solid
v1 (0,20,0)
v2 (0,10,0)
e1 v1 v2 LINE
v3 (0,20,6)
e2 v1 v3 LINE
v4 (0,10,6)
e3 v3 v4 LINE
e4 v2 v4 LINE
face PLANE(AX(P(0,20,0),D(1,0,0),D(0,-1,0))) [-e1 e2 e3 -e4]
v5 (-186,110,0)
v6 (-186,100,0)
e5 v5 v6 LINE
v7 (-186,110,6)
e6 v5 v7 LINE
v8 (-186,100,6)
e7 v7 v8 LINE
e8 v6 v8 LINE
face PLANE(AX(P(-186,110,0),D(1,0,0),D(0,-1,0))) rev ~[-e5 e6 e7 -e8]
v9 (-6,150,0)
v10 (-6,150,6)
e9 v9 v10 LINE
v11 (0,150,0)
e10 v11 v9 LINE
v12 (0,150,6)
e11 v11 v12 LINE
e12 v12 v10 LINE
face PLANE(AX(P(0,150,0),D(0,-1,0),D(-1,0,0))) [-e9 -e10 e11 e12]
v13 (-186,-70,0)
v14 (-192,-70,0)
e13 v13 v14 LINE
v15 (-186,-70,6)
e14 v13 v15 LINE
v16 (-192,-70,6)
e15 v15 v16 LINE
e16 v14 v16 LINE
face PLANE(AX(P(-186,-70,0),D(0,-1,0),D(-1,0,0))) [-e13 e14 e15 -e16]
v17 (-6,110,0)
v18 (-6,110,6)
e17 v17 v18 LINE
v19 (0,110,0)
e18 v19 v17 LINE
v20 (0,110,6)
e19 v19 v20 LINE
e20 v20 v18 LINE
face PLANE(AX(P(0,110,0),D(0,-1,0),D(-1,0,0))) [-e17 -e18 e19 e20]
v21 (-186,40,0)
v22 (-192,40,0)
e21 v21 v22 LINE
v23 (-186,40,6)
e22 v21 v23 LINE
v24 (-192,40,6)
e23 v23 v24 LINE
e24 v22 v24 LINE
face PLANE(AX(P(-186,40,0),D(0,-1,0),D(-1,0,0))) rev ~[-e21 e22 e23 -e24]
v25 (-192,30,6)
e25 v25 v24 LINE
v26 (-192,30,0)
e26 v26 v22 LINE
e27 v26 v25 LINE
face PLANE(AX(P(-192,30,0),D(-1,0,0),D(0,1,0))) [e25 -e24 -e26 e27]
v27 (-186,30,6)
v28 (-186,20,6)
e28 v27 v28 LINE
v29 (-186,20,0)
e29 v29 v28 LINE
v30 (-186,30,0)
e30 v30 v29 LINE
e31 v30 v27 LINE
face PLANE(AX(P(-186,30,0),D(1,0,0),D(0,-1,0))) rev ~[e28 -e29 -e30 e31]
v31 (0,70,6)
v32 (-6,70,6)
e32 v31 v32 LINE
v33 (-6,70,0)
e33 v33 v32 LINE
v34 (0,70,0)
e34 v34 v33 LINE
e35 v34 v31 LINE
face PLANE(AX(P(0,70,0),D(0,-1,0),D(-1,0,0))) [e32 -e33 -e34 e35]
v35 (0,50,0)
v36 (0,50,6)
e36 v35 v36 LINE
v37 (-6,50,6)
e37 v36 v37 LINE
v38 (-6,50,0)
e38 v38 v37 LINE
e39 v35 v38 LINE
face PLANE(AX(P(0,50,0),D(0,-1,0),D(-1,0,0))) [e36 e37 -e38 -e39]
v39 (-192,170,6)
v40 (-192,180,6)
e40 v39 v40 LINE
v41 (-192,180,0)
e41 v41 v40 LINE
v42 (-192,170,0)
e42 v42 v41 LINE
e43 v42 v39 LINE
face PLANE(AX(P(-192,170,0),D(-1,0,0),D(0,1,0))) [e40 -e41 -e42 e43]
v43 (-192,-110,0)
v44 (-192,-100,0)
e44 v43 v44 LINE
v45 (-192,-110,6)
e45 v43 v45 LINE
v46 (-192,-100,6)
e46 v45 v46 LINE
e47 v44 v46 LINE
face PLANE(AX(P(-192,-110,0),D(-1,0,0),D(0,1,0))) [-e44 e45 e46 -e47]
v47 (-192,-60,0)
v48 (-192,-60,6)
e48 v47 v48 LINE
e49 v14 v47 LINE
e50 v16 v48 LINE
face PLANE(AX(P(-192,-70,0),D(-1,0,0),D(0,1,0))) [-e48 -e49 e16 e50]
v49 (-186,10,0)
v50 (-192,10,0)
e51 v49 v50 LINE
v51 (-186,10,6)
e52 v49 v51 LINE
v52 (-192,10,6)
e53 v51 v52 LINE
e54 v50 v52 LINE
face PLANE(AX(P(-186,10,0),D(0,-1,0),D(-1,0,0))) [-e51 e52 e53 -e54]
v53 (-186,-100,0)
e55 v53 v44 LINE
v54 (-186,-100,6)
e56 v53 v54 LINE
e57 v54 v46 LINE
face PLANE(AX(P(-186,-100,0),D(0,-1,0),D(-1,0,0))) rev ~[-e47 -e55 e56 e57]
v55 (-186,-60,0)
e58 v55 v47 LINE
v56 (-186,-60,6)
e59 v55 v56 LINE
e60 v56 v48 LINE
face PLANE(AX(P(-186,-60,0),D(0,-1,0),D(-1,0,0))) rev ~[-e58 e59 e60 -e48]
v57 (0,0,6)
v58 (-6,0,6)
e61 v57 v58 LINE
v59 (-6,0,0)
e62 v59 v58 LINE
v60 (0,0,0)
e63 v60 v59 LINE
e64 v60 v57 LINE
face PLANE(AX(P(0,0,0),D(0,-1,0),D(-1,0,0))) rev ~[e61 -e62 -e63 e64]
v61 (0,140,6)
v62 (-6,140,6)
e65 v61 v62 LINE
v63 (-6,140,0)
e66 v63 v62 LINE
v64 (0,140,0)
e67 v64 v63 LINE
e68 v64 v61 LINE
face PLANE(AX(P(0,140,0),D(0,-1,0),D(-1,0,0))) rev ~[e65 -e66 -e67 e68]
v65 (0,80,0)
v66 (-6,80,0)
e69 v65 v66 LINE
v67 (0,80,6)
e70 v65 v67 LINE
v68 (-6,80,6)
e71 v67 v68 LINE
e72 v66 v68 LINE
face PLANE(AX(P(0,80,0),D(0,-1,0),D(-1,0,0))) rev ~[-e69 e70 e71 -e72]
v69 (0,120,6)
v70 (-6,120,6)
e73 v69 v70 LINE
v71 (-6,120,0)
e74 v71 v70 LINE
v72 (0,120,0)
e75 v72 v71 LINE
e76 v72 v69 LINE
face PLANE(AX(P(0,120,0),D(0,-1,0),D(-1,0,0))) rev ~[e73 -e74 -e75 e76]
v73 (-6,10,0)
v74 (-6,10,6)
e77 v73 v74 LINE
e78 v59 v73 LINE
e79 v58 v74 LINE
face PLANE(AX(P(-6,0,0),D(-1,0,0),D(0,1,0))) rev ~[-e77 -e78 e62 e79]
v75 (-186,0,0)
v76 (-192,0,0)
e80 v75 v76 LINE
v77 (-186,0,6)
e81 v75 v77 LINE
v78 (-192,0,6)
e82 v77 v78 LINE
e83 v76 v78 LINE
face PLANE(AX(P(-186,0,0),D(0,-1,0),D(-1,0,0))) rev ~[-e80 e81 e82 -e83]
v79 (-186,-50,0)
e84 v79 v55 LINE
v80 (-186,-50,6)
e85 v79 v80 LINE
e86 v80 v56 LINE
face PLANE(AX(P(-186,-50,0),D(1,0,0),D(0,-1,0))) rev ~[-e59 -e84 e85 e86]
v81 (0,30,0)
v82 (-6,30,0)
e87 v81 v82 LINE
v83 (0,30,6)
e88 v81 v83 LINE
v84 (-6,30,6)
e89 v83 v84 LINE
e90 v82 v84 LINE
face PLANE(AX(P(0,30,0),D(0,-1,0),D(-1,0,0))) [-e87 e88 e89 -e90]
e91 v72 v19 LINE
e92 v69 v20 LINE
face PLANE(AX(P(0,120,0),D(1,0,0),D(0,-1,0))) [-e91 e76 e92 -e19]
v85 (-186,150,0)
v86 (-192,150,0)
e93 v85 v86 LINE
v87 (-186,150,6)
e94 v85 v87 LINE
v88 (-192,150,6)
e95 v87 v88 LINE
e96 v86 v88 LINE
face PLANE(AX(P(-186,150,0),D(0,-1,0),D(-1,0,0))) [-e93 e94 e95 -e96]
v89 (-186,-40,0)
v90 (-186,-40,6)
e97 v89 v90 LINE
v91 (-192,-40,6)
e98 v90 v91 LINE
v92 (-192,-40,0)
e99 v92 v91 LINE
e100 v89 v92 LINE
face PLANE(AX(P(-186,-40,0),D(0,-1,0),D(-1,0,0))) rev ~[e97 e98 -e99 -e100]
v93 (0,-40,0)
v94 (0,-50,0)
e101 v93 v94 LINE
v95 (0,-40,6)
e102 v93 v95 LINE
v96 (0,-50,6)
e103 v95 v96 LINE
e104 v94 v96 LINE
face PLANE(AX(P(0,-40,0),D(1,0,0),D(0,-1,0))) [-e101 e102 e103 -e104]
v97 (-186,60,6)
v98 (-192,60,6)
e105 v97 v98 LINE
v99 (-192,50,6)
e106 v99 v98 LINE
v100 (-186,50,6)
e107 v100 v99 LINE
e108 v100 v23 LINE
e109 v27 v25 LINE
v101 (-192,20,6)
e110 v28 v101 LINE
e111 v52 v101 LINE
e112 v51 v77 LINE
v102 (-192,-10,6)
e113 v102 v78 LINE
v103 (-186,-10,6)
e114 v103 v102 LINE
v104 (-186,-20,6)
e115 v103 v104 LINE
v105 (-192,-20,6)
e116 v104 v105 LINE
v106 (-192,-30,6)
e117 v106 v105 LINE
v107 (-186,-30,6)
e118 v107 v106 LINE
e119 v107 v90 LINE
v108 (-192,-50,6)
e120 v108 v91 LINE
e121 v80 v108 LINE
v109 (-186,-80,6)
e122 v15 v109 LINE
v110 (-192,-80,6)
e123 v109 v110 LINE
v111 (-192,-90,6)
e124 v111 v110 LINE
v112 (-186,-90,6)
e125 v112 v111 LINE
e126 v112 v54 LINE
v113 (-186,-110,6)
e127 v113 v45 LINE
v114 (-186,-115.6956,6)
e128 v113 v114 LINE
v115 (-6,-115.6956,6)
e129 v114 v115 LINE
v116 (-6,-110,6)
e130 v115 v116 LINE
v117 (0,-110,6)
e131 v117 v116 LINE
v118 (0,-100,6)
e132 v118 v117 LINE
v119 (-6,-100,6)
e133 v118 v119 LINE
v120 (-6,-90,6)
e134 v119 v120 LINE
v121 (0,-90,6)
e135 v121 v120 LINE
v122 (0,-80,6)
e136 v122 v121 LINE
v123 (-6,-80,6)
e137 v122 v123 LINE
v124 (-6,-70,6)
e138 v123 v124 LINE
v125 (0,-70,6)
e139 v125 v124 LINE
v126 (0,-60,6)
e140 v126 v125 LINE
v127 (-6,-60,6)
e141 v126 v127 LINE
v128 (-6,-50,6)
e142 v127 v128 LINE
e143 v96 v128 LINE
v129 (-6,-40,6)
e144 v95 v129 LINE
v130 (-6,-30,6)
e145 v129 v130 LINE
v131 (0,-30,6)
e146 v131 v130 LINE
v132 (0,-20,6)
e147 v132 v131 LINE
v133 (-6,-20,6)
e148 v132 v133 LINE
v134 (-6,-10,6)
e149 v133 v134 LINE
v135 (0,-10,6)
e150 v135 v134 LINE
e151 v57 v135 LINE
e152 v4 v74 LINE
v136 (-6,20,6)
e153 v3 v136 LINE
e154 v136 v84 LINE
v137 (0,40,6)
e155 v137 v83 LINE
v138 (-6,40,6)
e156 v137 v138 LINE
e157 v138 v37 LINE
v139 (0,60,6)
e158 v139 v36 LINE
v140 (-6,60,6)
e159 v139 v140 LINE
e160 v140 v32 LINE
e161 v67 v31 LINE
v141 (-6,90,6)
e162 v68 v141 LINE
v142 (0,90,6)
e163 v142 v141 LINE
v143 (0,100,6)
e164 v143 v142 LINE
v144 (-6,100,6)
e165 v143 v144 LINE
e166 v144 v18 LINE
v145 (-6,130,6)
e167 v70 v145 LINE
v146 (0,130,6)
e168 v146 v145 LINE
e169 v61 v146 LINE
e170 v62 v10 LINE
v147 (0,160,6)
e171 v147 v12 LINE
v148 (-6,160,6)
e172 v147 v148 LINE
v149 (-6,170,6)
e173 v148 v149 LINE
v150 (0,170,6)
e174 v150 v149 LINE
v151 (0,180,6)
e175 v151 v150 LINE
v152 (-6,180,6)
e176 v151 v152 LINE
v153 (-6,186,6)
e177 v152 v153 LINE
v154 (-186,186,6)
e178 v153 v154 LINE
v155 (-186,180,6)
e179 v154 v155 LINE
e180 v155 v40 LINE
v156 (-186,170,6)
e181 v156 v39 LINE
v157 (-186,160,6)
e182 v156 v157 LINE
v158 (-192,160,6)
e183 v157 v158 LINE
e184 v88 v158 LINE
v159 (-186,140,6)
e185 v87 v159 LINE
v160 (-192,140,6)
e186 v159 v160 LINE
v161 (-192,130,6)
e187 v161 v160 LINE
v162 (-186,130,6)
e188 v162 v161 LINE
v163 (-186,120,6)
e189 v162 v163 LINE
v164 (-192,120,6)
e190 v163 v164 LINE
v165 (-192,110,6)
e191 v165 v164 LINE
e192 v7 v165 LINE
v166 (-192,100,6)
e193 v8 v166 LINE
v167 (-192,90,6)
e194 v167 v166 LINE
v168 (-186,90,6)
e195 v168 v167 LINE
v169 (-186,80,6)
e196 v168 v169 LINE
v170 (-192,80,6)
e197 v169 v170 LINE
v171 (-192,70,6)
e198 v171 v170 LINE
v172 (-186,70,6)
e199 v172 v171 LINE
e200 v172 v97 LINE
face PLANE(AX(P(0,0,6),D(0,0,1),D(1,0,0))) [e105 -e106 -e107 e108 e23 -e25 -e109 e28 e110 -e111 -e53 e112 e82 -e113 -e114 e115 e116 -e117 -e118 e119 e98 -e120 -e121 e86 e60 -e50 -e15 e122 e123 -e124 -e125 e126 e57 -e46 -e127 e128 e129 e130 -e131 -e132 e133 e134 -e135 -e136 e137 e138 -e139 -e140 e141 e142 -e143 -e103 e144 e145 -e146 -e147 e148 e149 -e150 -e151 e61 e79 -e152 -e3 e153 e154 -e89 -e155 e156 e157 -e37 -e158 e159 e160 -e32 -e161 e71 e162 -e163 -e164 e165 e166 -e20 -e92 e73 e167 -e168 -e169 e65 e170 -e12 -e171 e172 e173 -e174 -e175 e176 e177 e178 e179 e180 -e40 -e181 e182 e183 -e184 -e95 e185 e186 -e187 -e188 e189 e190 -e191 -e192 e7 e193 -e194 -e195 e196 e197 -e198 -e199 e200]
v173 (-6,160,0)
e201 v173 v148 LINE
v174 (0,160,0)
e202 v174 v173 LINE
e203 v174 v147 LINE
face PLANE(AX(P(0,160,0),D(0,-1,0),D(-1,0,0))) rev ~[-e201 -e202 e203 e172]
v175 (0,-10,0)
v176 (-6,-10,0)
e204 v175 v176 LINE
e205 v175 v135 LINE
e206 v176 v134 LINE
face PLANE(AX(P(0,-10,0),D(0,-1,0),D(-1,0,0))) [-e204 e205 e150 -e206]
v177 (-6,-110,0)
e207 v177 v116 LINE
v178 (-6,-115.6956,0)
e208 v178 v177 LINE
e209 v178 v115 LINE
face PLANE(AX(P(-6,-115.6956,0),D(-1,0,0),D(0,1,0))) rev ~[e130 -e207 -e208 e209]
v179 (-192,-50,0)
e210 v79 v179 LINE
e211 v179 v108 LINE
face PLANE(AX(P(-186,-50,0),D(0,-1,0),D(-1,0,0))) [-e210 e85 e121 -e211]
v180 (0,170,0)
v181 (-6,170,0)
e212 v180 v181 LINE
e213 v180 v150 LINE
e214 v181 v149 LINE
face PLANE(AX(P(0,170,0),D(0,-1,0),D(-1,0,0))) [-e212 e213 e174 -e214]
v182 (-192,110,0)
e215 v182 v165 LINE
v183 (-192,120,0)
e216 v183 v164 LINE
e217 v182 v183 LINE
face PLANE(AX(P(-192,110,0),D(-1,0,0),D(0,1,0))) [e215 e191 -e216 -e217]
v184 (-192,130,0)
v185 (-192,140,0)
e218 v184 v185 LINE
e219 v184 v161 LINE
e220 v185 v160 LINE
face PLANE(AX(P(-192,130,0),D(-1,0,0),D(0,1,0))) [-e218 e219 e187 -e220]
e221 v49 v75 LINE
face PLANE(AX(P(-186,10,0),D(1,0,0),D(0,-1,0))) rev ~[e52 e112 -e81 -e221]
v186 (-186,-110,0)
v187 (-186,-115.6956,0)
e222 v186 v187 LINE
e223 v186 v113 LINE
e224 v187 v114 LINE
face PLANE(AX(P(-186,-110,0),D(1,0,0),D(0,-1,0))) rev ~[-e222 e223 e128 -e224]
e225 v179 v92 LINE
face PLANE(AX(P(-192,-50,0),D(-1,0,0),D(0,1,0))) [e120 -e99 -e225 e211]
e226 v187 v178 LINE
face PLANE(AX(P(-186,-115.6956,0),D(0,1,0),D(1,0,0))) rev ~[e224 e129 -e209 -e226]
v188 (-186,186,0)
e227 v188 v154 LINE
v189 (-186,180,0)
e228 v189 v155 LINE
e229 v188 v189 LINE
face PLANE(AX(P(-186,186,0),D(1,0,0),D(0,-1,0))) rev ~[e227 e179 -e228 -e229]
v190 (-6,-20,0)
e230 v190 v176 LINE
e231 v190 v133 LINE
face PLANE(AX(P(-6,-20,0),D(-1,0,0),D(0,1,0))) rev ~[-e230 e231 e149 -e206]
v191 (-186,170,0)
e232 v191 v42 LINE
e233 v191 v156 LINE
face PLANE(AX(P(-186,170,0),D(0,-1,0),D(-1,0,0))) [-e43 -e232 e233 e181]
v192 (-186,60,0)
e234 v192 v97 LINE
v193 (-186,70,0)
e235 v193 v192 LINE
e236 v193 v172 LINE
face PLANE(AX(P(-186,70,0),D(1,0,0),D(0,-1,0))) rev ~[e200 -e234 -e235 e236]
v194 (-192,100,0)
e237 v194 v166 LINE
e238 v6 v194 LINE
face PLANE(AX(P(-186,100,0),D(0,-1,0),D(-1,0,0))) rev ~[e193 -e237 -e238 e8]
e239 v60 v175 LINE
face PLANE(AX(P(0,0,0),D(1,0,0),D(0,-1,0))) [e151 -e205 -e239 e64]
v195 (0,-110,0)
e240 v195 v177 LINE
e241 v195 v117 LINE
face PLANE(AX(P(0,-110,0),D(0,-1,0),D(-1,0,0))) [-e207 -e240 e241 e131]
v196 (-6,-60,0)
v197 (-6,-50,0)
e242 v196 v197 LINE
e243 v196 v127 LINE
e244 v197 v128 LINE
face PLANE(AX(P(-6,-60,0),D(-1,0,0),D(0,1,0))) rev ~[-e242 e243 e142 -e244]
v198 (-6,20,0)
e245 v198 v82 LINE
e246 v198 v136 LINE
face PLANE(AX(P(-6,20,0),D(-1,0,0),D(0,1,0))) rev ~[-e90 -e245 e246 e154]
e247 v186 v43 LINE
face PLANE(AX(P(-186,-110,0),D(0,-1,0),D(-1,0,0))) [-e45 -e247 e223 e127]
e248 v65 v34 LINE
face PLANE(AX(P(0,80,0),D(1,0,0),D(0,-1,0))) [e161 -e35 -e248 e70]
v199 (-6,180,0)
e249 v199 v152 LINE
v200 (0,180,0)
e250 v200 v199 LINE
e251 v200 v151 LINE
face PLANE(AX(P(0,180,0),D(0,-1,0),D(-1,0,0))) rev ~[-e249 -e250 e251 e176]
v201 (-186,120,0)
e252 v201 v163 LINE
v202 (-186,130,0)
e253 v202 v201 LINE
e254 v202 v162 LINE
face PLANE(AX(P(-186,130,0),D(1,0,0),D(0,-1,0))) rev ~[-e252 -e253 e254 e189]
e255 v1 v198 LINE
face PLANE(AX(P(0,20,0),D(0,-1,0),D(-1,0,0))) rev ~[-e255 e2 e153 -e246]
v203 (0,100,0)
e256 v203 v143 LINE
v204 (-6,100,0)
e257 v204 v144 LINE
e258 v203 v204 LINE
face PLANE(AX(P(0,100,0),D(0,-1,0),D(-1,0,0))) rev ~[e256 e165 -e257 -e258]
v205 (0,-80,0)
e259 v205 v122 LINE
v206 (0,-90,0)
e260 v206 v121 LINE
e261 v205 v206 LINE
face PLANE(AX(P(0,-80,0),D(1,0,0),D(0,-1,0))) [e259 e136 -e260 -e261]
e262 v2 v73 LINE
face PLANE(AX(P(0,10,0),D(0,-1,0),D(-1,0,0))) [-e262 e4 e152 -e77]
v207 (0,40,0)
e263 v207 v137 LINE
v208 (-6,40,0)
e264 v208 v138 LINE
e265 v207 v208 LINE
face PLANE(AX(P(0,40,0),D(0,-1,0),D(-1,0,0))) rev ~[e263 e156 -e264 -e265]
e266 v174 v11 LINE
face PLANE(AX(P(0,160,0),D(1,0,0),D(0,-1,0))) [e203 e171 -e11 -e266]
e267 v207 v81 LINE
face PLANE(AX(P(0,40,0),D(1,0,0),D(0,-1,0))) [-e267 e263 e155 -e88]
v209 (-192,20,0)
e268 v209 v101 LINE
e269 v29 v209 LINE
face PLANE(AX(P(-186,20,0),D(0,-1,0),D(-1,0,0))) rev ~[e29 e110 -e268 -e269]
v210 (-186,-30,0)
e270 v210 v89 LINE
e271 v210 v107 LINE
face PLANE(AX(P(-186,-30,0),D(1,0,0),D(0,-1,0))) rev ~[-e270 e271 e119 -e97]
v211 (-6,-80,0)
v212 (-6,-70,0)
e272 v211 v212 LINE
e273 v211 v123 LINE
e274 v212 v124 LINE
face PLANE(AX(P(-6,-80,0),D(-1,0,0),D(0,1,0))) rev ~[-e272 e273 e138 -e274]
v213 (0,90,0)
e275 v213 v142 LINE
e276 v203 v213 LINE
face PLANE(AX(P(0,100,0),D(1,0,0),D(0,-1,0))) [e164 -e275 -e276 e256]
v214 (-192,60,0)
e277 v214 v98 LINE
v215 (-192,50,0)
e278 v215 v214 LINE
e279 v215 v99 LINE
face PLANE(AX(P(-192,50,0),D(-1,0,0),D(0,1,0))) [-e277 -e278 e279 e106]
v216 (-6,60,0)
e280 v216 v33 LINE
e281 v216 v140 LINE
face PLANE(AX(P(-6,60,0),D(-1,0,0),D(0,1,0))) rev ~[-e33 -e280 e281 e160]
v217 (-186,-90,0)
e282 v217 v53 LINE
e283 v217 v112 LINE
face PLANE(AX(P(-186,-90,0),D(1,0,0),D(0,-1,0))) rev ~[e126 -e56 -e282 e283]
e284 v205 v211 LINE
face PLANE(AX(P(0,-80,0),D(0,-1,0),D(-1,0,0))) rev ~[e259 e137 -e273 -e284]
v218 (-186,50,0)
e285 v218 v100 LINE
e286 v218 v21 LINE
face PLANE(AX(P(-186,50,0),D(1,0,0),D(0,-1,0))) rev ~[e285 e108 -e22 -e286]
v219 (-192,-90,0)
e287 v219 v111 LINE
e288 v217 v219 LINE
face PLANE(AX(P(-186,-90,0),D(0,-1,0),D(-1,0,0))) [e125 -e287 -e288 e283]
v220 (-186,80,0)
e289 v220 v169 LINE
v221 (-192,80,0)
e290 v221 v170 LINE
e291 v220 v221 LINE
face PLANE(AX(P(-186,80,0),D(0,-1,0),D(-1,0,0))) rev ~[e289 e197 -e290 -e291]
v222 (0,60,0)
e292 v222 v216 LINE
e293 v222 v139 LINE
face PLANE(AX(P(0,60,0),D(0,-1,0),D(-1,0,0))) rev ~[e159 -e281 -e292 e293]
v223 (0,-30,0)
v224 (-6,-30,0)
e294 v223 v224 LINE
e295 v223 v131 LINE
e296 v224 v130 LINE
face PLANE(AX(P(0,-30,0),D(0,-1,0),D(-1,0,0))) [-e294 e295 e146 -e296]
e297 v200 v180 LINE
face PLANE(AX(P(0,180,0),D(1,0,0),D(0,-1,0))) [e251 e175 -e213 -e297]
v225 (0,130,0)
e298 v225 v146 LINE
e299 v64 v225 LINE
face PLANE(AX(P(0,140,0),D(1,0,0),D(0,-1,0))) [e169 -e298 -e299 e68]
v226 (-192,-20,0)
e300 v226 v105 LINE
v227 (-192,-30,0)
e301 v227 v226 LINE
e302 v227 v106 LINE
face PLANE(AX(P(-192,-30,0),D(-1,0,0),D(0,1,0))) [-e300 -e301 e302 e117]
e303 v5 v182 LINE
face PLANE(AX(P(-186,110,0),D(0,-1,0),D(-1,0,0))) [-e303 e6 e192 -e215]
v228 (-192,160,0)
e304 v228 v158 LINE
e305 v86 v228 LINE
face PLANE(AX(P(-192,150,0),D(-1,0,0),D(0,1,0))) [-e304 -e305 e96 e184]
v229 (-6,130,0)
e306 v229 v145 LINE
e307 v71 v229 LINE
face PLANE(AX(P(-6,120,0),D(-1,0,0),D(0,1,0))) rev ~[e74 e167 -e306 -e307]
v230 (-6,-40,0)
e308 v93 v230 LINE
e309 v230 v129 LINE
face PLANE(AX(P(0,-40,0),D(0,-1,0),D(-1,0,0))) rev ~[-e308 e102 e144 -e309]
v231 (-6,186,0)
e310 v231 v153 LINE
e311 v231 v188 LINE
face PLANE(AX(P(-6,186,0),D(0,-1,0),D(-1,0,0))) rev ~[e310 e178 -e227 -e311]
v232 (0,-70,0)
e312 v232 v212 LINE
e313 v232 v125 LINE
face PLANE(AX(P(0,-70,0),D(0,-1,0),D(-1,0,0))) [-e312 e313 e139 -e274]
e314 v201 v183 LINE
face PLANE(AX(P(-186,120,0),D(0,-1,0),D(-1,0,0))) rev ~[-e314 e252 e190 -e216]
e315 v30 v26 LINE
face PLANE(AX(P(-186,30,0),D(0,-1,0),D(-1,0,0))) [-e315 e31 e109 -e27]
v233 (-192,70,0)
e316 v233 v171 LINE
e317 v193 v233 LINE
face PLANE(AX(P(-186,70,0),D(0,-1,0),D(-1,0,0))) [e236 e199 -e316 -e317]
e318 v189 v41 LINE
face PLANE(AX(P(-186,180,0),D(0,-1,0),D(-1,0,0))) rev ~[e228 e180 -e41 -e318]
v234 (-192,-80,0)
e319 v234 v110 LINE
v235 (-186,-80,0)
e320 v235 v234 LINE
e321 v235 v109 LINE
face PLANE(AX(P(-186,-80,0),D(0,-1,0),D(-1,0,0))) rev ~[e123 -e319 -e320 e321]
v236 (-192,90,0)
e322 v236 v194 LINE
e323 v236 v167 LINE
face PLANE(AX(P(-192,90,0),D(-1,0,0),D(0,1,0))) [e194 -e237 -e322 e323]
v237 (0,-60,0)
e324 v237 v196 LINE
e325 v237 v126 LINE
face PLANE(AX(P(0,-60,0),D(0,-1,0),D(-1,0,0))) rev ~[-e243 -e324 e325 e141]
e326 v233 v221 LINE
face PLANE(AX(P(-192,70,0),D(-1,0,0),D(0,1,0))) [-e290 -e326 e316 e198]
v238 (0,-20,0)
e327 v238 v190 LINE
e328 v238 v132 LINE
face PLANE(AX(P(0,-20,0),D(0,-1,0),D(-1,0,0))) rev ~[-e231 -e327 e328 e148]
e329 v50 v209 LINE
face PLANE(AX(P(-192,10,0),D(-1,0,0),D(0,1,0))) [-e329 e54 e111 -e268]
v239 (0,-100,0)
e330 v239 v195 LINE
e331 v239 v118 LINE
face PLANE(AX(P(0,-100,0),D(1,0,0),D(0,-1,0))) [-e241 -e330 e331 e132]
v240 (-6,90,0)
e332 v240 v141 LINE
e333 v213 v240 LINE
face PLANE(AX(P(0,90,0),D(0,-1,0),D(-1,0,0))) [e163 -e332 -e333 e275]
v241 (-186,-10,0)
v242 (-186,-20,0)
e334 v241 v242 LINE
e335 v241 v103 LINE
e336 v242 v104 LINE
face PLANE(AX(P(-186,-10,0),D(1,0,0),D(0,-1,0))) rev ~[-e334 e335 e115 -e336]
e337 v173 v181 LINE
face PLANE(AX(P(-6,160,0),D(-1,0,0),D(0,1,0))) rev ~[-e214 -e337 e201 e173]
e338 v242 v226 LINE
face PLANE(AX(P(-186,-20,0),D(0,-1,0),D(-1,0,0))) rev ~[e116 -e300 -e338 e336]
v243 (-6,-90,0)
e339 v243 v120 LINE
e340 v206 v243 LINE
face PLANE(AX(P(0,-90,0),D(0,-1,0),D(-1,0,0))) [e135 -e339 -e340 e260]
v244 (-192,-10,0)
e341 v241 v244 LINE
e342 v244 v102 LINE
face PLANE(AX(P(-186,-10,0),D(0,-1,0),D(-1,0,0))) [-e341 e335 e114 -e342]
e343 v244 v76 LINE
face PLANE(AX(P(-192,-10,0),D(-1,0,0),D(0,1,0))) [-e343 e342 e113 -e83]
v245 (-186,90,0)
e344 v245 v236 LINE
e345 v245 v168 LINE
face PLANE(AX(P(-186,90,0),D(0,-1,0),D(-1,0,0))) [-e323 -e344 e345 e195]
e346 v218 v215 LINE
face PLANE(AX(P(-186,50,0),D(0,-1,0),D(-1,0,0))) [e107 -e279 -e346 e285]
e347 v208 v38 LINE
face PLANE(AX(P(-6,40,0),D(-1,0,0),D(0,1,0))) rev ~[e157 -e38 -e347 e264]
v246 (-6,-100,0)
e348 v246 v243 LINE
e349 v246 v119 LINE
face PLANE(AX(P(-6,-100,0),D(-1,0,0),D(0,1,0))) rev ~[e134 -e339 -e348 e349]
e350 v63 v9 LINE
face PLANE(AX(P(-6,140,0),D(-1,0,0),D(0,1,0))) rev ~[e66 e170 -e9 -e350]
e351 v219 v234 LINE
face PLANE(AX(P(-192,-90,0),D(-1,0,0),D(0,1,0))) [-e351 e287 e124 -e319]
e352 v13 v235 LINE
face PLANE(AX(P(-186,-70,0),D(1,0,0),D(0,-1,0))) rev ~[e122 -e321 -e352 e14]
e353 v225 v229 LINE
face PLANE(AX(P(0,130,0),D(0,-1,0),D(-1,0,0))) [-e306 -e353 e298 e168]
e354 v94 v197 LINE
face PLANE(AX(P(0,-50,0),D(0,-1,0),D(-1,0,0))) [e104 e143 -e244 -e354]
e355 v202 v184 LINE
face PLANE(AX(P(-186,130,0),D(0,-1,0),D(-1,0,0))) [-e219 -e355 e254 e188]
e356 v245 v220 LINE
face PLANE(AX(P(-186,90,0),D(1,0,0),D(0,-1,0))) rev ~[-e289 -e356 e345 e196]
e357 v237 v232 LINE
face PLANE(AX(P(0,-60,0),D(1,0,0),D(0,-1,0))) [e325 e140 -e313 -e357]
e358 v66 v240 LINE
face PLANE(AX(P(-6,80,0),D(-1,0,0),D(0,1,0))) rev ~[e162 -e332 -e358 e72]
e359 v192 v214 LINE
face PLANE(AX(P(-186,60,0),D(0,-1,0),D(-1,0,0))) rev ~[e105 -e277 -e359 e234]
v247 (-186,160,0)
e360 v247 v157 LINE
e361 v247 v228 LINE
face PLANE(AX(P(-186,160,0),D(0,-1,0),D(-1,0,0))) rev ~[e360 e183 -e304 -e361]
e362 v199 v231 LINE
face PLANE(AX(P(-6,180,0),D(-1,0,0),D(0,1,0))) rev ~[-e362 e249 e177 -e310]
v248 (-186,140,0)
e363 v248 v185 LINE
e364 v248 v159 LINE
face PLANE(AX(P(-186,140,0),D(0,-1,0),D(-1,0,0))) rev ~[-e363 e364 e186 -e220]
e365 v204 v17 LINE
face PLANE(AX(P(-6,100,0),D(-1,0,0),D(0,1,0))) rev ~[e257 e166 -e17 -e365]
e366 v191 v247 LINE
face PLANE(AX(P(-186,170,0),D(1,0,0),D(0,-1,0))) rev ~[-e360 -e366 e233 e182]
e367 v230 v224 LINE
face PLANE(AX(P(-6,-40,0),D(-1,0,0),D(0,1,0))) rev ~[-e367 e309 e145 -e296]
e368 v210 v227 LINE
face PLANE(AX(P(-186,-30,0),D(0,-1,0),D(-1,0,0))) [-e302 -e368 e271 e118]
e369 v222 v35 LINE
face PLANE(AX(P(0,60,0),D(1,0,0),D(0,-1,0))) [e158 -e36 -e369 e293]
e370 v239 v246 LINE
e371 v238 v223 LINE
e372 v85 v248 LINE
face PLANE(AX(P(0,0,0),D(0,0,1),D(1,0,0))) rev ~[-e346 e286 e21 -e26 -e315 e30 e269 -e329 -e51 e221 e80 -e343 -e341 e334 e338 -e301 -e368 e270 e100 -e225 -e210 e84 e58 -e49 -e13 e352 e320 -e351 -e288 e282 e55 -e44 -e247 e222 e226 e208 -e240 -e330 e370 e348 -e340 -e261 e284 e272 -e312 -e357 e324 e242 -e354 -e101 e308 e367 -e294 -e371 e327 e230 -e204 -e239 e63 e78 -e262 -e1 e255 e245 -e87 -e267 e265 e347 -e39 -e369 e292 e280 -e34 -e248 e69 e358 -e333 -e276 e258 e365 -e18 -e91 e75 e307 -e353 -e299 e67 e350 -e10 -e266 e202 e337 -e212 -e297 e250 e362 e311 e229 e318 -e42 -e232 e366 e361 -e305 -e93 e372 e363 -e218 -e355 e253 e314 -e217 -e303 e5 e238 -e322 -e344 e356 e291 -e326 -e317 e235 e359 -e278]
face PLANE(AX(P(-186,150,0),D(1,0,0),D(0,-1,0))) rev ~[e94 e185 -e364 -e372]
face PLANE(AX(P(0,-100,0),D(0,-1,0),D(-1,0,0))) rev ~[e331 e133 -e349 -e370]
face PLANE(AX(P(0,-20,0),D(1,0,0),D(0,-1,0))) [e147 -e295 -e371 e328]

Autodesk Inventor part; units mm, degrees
ref_plane "YZ Plane" through (0, 0, 0) normal (1, 0, 0) x (0, 1, 0)
ref_plane "XZ Plane" through (0, 0, 0) normal (0, 1, 0) x (-1, 0, 0)
ref_plane "XY Plane" through (0, 0, 0) normal (0, 0, 1) x (1, 0, 0)
sketch "Эскиз1" plane through (0, 0, 0) normal (0, 0, 1) x (1, 0, 0)
  line L0 (0, 180) -> (0, 170) projected
  line L1 (0, 180) -> (-6, 180) projected
  line L2 (-6, 170) -> (-6, 180) projected
  line L3 (0, 170) -> (-6, 170) projected
  line L4 (0, 160) -> (0, 150) projected
  line L5 (0, 160) -> (-6, 160) projected
  line L6 (-6, 150) -> (-6, 160) projected
  line L7 (0, 150) -> (-6, 150) projected
  line L8 (0, 140) -> (0, 130) projected
  line L9 (0, 140) -> (-6, 140) projected
  line L10 (-6, 130) -> (-6, 140) projected
  line L11 (0, 130) -> (-6, 130) projected
  line L12 (0, 120) -> (0, 110) projected
  line L13 (0, 120) -> (-6, 120) projected
  line L14 (-6, 110) -> (-6, 120) projected
  line L15 (0, 110) -> (-6, 110) projected
  line L16 (0, 100) -> (0, 90) projected
  line L17 (0, 100) -> (-6, 100) projected
  line L18 (-6, 90) -> (-6, 100) projected
  line L19 (0, 90) -> (-6, 90) projected
  line L20 (0, 80) -> (0, 70) projected
  line L21 (0, 80) -> (-6, 80) projected
  line L22 (-6, 70) -> (-6, 80) projected
  line L23 (0, 70) -> (-6, 70) projected
  line L24 (0, 60) -> (0, 50) projected
  line L25 (0, 60) -> (-6, 60) projected
  line L26 (-6, 50) -> (-6, 60) projected
  line L27 (0, 50) -> (-6, 50) projected
  line L28 (0, 40) -> (0, 30) projected
  line L29 (0, 40) -> (-6, 40) projected
  line L30 (-6, 30) -> (-6, 40) projected
  line L31 (0, 30) -> (-6, 30) projected
  line L32 (0, 20) -> (0, 10) projected
  line L33 (0, 20) -> (-6, 20) projected
  line L34 (-6, 10) -> (-6, 20) projected
  line L35 (0, 10) -> (-6, 10) projected
  line L36 (0, 0) -> (0, -10) projected
  line L37 (0, 0) -> (-6, 0) projected
  line L38 (-6, -10) -> (-6, 0) projected
  line L39 (0, -10) -> (-6, -10) projected
  line L40 (0, -20) -> (0, -30) projected
  line L41 (0, -20) -> (-6, -20) projected
  line L42 (-6, -30) -> (-6, -20) projected
  line L43 (0, -30) -> (-6, -30) projected
  line L44 (0, -20) -> (0, -30) projected
  line L45 (0, -20) -> (-6, -20) projected
  line L46 (-6, -30) -> (-6, -20) projected
  line L47 (0, -30) -> (-6, -30) projected
  line L48 (0, -40) -> (0, -50) projected
  line L49 (0, -40) -> (-6, -40) projected
  line L50 (-6, -50) -> (-6, -40) projected
  line L51 (0, -50) -> (-6, -50) projected
  line L52 (0, -60) -> (0, -70) projected
  line L53 (0, -60) -> (-6, -60) projected
  line L54 (-6, -70) -> (-6, -60) projected
  line L55 (0, -70) -> (-6, -70) projected
  line L56 (0, -80) -> (0, -90) projected
  line L57 (0, -80) -> (-6, -80) projected
  line L58 (-6, -90) -> (-6, -80) projected
  line L59 (0, -90) -> (-6, -90) projected
  line L60 (0, -100) -> (0, -110) projected
  line L61 (0, -100) -> (-6, -100) projected
  line L62 (-6, -110) -> (-6, -100) projected
  line L63 (0, -110) -> (-6, -110) projected
  line L64 (-186, 180) -> (-186, 170) projected
  line L65 (-186, 180) -> (-192, 180) projected
  line L66 (-192, 170) -> (-192, 180) projected
  line L67 (-186, 170) -> (-192, 170) projected
  line L68 (-186, 160) -> (-186, 150) projected
  line L69 (-186, 160) -> (-192, 160) projected
  line L70 (-192, 150) -> (-192, 160) projected
  line L71 (-186, 150) -> (-192, 150) projected
  line L72 (-186, 140) -> (-186, 130) projected
  line L73 (-186, 140) -> (-192, 140) projected
  line L74 (-192, 130) -> (-192, 140) projected
  line L75 (-186, 130) -> (-192, 130) projected
  line L76 (-186, 120) -> (-186, 110) projected
  line L77 (-186, 120) -> (-192, 120) projected
  line L78 (-192, 110) -> (-192, 120) projected
  line L79 (-186, 110) -> (-192, 110) projected
  line L80 (-186, 100) -> (-186, 90) projected
  line L81 (-186, 100) -> (-192, 100) projected
  line L82 (-192, 90) -> (-192, 100) projected
  line L83 (-186, 90) -> (-192, 90) projected
  line L84 (-186, 80) -> (-186, 70) projected
  line L85 (-186, 80) -> (-192, 80) projected
  line L86 (-192, 70) -> (-192, 80) projected
  line L87 (-186, 70) -> (-192, 70) projected
  line L88 (-186, 60) -> (-186, 50) projected
  line L89 (-186, 60) -> (-192, 60) projected
  line L90 (-192, 50) -> (-192, 60) projected
  line L91 (-186, 50) -> (-192, 50) projected
  line L92 (-186, 20) -> (-186, 10) projected
  line L93 (-186, 20) -> (-192, 20) projected
  line L94 (-192, 10) -> (-192, 20) projected
  line L95 (-186, 10) -> (-192, 10) projected
  line L96 (-186, 40) -> (-186, 30) projected
  line L97 (-186, 40) -> (-192, 40) projected
  line L98 (-192, 30) -> (-192, 40) projected
  line L99 (-186, 30) -> (-192, 30) projected
  line L100 (-186, -20) -> (-186, -30) projected
  line L101 (-186, -20) -> (-192, -20) projected
  line L102 (-192, -30) -> (-192, -20) projected
  line L103 (-186, -30) -> (-192, -30) projected
  line L104 (-186, 0) -> (-186, -10) projected
  line L105 (-186, 0) -> (-192, 0) projected
  line L106 (-192, -10) -> (-192, 0) projected
  line L107 (-186, -10) -> (-192, -10) projected
  line L108 (-186, -40) -> (-186, -50) projected
  line L109 (-186, -40) -> (-192, -40) projected
  line L110 (-192, -50) -> (-192, -40) projected
  line L111 (-186, -50) -> (-192, -50) projected
  line L112 (-186, -60) -> (-186, -70) projected
  line L113 (-186, -60) -> (-192, -60) projected
  line L114 (-192, -70) -> (-192, -60) projected
  line L115 (-186, -70) -> (-192, -70) projected
  line L116 (-186, -80) -> (-186, -90) projected
  line L117 (-186, -80) -> (-192, -80) projected
  line L118 (-192, -90) -> (-192, -80) projected
  line L119 (-186, -90) -> (-192, -90) projected
  line L120 (-186, -100) -> (-186, -110) projected
  line L121 (-186, -100) -> (-192, -100) projected
  line L122 (-192, -110) -> (-192, -100) projected
  line L123 (-186, -110) -> (-192, -110) projected
  line L124 (-186, 186) -> (-186, 180) projected
  line L125 (-186, -110) -> (-186, -115.6956) projected
  line L126 (-6, 180) -> (-6, 186) projected
  line L127 (-6, -115.6956) -> (-6, -110) projected
  line L128 (-6, 186) -> (-186, 186)
  line L129 (-186, 186) -> (-186, -115.6956)
  line L130 (-186, -115.6956) -> (-6, -115.6956)
  line L131 (-6, -115.6956) -> (-6, 186)
extrude "Выдавливание1" add sketch "Эскиз1" along normal blind 6
properties part number "дно"
